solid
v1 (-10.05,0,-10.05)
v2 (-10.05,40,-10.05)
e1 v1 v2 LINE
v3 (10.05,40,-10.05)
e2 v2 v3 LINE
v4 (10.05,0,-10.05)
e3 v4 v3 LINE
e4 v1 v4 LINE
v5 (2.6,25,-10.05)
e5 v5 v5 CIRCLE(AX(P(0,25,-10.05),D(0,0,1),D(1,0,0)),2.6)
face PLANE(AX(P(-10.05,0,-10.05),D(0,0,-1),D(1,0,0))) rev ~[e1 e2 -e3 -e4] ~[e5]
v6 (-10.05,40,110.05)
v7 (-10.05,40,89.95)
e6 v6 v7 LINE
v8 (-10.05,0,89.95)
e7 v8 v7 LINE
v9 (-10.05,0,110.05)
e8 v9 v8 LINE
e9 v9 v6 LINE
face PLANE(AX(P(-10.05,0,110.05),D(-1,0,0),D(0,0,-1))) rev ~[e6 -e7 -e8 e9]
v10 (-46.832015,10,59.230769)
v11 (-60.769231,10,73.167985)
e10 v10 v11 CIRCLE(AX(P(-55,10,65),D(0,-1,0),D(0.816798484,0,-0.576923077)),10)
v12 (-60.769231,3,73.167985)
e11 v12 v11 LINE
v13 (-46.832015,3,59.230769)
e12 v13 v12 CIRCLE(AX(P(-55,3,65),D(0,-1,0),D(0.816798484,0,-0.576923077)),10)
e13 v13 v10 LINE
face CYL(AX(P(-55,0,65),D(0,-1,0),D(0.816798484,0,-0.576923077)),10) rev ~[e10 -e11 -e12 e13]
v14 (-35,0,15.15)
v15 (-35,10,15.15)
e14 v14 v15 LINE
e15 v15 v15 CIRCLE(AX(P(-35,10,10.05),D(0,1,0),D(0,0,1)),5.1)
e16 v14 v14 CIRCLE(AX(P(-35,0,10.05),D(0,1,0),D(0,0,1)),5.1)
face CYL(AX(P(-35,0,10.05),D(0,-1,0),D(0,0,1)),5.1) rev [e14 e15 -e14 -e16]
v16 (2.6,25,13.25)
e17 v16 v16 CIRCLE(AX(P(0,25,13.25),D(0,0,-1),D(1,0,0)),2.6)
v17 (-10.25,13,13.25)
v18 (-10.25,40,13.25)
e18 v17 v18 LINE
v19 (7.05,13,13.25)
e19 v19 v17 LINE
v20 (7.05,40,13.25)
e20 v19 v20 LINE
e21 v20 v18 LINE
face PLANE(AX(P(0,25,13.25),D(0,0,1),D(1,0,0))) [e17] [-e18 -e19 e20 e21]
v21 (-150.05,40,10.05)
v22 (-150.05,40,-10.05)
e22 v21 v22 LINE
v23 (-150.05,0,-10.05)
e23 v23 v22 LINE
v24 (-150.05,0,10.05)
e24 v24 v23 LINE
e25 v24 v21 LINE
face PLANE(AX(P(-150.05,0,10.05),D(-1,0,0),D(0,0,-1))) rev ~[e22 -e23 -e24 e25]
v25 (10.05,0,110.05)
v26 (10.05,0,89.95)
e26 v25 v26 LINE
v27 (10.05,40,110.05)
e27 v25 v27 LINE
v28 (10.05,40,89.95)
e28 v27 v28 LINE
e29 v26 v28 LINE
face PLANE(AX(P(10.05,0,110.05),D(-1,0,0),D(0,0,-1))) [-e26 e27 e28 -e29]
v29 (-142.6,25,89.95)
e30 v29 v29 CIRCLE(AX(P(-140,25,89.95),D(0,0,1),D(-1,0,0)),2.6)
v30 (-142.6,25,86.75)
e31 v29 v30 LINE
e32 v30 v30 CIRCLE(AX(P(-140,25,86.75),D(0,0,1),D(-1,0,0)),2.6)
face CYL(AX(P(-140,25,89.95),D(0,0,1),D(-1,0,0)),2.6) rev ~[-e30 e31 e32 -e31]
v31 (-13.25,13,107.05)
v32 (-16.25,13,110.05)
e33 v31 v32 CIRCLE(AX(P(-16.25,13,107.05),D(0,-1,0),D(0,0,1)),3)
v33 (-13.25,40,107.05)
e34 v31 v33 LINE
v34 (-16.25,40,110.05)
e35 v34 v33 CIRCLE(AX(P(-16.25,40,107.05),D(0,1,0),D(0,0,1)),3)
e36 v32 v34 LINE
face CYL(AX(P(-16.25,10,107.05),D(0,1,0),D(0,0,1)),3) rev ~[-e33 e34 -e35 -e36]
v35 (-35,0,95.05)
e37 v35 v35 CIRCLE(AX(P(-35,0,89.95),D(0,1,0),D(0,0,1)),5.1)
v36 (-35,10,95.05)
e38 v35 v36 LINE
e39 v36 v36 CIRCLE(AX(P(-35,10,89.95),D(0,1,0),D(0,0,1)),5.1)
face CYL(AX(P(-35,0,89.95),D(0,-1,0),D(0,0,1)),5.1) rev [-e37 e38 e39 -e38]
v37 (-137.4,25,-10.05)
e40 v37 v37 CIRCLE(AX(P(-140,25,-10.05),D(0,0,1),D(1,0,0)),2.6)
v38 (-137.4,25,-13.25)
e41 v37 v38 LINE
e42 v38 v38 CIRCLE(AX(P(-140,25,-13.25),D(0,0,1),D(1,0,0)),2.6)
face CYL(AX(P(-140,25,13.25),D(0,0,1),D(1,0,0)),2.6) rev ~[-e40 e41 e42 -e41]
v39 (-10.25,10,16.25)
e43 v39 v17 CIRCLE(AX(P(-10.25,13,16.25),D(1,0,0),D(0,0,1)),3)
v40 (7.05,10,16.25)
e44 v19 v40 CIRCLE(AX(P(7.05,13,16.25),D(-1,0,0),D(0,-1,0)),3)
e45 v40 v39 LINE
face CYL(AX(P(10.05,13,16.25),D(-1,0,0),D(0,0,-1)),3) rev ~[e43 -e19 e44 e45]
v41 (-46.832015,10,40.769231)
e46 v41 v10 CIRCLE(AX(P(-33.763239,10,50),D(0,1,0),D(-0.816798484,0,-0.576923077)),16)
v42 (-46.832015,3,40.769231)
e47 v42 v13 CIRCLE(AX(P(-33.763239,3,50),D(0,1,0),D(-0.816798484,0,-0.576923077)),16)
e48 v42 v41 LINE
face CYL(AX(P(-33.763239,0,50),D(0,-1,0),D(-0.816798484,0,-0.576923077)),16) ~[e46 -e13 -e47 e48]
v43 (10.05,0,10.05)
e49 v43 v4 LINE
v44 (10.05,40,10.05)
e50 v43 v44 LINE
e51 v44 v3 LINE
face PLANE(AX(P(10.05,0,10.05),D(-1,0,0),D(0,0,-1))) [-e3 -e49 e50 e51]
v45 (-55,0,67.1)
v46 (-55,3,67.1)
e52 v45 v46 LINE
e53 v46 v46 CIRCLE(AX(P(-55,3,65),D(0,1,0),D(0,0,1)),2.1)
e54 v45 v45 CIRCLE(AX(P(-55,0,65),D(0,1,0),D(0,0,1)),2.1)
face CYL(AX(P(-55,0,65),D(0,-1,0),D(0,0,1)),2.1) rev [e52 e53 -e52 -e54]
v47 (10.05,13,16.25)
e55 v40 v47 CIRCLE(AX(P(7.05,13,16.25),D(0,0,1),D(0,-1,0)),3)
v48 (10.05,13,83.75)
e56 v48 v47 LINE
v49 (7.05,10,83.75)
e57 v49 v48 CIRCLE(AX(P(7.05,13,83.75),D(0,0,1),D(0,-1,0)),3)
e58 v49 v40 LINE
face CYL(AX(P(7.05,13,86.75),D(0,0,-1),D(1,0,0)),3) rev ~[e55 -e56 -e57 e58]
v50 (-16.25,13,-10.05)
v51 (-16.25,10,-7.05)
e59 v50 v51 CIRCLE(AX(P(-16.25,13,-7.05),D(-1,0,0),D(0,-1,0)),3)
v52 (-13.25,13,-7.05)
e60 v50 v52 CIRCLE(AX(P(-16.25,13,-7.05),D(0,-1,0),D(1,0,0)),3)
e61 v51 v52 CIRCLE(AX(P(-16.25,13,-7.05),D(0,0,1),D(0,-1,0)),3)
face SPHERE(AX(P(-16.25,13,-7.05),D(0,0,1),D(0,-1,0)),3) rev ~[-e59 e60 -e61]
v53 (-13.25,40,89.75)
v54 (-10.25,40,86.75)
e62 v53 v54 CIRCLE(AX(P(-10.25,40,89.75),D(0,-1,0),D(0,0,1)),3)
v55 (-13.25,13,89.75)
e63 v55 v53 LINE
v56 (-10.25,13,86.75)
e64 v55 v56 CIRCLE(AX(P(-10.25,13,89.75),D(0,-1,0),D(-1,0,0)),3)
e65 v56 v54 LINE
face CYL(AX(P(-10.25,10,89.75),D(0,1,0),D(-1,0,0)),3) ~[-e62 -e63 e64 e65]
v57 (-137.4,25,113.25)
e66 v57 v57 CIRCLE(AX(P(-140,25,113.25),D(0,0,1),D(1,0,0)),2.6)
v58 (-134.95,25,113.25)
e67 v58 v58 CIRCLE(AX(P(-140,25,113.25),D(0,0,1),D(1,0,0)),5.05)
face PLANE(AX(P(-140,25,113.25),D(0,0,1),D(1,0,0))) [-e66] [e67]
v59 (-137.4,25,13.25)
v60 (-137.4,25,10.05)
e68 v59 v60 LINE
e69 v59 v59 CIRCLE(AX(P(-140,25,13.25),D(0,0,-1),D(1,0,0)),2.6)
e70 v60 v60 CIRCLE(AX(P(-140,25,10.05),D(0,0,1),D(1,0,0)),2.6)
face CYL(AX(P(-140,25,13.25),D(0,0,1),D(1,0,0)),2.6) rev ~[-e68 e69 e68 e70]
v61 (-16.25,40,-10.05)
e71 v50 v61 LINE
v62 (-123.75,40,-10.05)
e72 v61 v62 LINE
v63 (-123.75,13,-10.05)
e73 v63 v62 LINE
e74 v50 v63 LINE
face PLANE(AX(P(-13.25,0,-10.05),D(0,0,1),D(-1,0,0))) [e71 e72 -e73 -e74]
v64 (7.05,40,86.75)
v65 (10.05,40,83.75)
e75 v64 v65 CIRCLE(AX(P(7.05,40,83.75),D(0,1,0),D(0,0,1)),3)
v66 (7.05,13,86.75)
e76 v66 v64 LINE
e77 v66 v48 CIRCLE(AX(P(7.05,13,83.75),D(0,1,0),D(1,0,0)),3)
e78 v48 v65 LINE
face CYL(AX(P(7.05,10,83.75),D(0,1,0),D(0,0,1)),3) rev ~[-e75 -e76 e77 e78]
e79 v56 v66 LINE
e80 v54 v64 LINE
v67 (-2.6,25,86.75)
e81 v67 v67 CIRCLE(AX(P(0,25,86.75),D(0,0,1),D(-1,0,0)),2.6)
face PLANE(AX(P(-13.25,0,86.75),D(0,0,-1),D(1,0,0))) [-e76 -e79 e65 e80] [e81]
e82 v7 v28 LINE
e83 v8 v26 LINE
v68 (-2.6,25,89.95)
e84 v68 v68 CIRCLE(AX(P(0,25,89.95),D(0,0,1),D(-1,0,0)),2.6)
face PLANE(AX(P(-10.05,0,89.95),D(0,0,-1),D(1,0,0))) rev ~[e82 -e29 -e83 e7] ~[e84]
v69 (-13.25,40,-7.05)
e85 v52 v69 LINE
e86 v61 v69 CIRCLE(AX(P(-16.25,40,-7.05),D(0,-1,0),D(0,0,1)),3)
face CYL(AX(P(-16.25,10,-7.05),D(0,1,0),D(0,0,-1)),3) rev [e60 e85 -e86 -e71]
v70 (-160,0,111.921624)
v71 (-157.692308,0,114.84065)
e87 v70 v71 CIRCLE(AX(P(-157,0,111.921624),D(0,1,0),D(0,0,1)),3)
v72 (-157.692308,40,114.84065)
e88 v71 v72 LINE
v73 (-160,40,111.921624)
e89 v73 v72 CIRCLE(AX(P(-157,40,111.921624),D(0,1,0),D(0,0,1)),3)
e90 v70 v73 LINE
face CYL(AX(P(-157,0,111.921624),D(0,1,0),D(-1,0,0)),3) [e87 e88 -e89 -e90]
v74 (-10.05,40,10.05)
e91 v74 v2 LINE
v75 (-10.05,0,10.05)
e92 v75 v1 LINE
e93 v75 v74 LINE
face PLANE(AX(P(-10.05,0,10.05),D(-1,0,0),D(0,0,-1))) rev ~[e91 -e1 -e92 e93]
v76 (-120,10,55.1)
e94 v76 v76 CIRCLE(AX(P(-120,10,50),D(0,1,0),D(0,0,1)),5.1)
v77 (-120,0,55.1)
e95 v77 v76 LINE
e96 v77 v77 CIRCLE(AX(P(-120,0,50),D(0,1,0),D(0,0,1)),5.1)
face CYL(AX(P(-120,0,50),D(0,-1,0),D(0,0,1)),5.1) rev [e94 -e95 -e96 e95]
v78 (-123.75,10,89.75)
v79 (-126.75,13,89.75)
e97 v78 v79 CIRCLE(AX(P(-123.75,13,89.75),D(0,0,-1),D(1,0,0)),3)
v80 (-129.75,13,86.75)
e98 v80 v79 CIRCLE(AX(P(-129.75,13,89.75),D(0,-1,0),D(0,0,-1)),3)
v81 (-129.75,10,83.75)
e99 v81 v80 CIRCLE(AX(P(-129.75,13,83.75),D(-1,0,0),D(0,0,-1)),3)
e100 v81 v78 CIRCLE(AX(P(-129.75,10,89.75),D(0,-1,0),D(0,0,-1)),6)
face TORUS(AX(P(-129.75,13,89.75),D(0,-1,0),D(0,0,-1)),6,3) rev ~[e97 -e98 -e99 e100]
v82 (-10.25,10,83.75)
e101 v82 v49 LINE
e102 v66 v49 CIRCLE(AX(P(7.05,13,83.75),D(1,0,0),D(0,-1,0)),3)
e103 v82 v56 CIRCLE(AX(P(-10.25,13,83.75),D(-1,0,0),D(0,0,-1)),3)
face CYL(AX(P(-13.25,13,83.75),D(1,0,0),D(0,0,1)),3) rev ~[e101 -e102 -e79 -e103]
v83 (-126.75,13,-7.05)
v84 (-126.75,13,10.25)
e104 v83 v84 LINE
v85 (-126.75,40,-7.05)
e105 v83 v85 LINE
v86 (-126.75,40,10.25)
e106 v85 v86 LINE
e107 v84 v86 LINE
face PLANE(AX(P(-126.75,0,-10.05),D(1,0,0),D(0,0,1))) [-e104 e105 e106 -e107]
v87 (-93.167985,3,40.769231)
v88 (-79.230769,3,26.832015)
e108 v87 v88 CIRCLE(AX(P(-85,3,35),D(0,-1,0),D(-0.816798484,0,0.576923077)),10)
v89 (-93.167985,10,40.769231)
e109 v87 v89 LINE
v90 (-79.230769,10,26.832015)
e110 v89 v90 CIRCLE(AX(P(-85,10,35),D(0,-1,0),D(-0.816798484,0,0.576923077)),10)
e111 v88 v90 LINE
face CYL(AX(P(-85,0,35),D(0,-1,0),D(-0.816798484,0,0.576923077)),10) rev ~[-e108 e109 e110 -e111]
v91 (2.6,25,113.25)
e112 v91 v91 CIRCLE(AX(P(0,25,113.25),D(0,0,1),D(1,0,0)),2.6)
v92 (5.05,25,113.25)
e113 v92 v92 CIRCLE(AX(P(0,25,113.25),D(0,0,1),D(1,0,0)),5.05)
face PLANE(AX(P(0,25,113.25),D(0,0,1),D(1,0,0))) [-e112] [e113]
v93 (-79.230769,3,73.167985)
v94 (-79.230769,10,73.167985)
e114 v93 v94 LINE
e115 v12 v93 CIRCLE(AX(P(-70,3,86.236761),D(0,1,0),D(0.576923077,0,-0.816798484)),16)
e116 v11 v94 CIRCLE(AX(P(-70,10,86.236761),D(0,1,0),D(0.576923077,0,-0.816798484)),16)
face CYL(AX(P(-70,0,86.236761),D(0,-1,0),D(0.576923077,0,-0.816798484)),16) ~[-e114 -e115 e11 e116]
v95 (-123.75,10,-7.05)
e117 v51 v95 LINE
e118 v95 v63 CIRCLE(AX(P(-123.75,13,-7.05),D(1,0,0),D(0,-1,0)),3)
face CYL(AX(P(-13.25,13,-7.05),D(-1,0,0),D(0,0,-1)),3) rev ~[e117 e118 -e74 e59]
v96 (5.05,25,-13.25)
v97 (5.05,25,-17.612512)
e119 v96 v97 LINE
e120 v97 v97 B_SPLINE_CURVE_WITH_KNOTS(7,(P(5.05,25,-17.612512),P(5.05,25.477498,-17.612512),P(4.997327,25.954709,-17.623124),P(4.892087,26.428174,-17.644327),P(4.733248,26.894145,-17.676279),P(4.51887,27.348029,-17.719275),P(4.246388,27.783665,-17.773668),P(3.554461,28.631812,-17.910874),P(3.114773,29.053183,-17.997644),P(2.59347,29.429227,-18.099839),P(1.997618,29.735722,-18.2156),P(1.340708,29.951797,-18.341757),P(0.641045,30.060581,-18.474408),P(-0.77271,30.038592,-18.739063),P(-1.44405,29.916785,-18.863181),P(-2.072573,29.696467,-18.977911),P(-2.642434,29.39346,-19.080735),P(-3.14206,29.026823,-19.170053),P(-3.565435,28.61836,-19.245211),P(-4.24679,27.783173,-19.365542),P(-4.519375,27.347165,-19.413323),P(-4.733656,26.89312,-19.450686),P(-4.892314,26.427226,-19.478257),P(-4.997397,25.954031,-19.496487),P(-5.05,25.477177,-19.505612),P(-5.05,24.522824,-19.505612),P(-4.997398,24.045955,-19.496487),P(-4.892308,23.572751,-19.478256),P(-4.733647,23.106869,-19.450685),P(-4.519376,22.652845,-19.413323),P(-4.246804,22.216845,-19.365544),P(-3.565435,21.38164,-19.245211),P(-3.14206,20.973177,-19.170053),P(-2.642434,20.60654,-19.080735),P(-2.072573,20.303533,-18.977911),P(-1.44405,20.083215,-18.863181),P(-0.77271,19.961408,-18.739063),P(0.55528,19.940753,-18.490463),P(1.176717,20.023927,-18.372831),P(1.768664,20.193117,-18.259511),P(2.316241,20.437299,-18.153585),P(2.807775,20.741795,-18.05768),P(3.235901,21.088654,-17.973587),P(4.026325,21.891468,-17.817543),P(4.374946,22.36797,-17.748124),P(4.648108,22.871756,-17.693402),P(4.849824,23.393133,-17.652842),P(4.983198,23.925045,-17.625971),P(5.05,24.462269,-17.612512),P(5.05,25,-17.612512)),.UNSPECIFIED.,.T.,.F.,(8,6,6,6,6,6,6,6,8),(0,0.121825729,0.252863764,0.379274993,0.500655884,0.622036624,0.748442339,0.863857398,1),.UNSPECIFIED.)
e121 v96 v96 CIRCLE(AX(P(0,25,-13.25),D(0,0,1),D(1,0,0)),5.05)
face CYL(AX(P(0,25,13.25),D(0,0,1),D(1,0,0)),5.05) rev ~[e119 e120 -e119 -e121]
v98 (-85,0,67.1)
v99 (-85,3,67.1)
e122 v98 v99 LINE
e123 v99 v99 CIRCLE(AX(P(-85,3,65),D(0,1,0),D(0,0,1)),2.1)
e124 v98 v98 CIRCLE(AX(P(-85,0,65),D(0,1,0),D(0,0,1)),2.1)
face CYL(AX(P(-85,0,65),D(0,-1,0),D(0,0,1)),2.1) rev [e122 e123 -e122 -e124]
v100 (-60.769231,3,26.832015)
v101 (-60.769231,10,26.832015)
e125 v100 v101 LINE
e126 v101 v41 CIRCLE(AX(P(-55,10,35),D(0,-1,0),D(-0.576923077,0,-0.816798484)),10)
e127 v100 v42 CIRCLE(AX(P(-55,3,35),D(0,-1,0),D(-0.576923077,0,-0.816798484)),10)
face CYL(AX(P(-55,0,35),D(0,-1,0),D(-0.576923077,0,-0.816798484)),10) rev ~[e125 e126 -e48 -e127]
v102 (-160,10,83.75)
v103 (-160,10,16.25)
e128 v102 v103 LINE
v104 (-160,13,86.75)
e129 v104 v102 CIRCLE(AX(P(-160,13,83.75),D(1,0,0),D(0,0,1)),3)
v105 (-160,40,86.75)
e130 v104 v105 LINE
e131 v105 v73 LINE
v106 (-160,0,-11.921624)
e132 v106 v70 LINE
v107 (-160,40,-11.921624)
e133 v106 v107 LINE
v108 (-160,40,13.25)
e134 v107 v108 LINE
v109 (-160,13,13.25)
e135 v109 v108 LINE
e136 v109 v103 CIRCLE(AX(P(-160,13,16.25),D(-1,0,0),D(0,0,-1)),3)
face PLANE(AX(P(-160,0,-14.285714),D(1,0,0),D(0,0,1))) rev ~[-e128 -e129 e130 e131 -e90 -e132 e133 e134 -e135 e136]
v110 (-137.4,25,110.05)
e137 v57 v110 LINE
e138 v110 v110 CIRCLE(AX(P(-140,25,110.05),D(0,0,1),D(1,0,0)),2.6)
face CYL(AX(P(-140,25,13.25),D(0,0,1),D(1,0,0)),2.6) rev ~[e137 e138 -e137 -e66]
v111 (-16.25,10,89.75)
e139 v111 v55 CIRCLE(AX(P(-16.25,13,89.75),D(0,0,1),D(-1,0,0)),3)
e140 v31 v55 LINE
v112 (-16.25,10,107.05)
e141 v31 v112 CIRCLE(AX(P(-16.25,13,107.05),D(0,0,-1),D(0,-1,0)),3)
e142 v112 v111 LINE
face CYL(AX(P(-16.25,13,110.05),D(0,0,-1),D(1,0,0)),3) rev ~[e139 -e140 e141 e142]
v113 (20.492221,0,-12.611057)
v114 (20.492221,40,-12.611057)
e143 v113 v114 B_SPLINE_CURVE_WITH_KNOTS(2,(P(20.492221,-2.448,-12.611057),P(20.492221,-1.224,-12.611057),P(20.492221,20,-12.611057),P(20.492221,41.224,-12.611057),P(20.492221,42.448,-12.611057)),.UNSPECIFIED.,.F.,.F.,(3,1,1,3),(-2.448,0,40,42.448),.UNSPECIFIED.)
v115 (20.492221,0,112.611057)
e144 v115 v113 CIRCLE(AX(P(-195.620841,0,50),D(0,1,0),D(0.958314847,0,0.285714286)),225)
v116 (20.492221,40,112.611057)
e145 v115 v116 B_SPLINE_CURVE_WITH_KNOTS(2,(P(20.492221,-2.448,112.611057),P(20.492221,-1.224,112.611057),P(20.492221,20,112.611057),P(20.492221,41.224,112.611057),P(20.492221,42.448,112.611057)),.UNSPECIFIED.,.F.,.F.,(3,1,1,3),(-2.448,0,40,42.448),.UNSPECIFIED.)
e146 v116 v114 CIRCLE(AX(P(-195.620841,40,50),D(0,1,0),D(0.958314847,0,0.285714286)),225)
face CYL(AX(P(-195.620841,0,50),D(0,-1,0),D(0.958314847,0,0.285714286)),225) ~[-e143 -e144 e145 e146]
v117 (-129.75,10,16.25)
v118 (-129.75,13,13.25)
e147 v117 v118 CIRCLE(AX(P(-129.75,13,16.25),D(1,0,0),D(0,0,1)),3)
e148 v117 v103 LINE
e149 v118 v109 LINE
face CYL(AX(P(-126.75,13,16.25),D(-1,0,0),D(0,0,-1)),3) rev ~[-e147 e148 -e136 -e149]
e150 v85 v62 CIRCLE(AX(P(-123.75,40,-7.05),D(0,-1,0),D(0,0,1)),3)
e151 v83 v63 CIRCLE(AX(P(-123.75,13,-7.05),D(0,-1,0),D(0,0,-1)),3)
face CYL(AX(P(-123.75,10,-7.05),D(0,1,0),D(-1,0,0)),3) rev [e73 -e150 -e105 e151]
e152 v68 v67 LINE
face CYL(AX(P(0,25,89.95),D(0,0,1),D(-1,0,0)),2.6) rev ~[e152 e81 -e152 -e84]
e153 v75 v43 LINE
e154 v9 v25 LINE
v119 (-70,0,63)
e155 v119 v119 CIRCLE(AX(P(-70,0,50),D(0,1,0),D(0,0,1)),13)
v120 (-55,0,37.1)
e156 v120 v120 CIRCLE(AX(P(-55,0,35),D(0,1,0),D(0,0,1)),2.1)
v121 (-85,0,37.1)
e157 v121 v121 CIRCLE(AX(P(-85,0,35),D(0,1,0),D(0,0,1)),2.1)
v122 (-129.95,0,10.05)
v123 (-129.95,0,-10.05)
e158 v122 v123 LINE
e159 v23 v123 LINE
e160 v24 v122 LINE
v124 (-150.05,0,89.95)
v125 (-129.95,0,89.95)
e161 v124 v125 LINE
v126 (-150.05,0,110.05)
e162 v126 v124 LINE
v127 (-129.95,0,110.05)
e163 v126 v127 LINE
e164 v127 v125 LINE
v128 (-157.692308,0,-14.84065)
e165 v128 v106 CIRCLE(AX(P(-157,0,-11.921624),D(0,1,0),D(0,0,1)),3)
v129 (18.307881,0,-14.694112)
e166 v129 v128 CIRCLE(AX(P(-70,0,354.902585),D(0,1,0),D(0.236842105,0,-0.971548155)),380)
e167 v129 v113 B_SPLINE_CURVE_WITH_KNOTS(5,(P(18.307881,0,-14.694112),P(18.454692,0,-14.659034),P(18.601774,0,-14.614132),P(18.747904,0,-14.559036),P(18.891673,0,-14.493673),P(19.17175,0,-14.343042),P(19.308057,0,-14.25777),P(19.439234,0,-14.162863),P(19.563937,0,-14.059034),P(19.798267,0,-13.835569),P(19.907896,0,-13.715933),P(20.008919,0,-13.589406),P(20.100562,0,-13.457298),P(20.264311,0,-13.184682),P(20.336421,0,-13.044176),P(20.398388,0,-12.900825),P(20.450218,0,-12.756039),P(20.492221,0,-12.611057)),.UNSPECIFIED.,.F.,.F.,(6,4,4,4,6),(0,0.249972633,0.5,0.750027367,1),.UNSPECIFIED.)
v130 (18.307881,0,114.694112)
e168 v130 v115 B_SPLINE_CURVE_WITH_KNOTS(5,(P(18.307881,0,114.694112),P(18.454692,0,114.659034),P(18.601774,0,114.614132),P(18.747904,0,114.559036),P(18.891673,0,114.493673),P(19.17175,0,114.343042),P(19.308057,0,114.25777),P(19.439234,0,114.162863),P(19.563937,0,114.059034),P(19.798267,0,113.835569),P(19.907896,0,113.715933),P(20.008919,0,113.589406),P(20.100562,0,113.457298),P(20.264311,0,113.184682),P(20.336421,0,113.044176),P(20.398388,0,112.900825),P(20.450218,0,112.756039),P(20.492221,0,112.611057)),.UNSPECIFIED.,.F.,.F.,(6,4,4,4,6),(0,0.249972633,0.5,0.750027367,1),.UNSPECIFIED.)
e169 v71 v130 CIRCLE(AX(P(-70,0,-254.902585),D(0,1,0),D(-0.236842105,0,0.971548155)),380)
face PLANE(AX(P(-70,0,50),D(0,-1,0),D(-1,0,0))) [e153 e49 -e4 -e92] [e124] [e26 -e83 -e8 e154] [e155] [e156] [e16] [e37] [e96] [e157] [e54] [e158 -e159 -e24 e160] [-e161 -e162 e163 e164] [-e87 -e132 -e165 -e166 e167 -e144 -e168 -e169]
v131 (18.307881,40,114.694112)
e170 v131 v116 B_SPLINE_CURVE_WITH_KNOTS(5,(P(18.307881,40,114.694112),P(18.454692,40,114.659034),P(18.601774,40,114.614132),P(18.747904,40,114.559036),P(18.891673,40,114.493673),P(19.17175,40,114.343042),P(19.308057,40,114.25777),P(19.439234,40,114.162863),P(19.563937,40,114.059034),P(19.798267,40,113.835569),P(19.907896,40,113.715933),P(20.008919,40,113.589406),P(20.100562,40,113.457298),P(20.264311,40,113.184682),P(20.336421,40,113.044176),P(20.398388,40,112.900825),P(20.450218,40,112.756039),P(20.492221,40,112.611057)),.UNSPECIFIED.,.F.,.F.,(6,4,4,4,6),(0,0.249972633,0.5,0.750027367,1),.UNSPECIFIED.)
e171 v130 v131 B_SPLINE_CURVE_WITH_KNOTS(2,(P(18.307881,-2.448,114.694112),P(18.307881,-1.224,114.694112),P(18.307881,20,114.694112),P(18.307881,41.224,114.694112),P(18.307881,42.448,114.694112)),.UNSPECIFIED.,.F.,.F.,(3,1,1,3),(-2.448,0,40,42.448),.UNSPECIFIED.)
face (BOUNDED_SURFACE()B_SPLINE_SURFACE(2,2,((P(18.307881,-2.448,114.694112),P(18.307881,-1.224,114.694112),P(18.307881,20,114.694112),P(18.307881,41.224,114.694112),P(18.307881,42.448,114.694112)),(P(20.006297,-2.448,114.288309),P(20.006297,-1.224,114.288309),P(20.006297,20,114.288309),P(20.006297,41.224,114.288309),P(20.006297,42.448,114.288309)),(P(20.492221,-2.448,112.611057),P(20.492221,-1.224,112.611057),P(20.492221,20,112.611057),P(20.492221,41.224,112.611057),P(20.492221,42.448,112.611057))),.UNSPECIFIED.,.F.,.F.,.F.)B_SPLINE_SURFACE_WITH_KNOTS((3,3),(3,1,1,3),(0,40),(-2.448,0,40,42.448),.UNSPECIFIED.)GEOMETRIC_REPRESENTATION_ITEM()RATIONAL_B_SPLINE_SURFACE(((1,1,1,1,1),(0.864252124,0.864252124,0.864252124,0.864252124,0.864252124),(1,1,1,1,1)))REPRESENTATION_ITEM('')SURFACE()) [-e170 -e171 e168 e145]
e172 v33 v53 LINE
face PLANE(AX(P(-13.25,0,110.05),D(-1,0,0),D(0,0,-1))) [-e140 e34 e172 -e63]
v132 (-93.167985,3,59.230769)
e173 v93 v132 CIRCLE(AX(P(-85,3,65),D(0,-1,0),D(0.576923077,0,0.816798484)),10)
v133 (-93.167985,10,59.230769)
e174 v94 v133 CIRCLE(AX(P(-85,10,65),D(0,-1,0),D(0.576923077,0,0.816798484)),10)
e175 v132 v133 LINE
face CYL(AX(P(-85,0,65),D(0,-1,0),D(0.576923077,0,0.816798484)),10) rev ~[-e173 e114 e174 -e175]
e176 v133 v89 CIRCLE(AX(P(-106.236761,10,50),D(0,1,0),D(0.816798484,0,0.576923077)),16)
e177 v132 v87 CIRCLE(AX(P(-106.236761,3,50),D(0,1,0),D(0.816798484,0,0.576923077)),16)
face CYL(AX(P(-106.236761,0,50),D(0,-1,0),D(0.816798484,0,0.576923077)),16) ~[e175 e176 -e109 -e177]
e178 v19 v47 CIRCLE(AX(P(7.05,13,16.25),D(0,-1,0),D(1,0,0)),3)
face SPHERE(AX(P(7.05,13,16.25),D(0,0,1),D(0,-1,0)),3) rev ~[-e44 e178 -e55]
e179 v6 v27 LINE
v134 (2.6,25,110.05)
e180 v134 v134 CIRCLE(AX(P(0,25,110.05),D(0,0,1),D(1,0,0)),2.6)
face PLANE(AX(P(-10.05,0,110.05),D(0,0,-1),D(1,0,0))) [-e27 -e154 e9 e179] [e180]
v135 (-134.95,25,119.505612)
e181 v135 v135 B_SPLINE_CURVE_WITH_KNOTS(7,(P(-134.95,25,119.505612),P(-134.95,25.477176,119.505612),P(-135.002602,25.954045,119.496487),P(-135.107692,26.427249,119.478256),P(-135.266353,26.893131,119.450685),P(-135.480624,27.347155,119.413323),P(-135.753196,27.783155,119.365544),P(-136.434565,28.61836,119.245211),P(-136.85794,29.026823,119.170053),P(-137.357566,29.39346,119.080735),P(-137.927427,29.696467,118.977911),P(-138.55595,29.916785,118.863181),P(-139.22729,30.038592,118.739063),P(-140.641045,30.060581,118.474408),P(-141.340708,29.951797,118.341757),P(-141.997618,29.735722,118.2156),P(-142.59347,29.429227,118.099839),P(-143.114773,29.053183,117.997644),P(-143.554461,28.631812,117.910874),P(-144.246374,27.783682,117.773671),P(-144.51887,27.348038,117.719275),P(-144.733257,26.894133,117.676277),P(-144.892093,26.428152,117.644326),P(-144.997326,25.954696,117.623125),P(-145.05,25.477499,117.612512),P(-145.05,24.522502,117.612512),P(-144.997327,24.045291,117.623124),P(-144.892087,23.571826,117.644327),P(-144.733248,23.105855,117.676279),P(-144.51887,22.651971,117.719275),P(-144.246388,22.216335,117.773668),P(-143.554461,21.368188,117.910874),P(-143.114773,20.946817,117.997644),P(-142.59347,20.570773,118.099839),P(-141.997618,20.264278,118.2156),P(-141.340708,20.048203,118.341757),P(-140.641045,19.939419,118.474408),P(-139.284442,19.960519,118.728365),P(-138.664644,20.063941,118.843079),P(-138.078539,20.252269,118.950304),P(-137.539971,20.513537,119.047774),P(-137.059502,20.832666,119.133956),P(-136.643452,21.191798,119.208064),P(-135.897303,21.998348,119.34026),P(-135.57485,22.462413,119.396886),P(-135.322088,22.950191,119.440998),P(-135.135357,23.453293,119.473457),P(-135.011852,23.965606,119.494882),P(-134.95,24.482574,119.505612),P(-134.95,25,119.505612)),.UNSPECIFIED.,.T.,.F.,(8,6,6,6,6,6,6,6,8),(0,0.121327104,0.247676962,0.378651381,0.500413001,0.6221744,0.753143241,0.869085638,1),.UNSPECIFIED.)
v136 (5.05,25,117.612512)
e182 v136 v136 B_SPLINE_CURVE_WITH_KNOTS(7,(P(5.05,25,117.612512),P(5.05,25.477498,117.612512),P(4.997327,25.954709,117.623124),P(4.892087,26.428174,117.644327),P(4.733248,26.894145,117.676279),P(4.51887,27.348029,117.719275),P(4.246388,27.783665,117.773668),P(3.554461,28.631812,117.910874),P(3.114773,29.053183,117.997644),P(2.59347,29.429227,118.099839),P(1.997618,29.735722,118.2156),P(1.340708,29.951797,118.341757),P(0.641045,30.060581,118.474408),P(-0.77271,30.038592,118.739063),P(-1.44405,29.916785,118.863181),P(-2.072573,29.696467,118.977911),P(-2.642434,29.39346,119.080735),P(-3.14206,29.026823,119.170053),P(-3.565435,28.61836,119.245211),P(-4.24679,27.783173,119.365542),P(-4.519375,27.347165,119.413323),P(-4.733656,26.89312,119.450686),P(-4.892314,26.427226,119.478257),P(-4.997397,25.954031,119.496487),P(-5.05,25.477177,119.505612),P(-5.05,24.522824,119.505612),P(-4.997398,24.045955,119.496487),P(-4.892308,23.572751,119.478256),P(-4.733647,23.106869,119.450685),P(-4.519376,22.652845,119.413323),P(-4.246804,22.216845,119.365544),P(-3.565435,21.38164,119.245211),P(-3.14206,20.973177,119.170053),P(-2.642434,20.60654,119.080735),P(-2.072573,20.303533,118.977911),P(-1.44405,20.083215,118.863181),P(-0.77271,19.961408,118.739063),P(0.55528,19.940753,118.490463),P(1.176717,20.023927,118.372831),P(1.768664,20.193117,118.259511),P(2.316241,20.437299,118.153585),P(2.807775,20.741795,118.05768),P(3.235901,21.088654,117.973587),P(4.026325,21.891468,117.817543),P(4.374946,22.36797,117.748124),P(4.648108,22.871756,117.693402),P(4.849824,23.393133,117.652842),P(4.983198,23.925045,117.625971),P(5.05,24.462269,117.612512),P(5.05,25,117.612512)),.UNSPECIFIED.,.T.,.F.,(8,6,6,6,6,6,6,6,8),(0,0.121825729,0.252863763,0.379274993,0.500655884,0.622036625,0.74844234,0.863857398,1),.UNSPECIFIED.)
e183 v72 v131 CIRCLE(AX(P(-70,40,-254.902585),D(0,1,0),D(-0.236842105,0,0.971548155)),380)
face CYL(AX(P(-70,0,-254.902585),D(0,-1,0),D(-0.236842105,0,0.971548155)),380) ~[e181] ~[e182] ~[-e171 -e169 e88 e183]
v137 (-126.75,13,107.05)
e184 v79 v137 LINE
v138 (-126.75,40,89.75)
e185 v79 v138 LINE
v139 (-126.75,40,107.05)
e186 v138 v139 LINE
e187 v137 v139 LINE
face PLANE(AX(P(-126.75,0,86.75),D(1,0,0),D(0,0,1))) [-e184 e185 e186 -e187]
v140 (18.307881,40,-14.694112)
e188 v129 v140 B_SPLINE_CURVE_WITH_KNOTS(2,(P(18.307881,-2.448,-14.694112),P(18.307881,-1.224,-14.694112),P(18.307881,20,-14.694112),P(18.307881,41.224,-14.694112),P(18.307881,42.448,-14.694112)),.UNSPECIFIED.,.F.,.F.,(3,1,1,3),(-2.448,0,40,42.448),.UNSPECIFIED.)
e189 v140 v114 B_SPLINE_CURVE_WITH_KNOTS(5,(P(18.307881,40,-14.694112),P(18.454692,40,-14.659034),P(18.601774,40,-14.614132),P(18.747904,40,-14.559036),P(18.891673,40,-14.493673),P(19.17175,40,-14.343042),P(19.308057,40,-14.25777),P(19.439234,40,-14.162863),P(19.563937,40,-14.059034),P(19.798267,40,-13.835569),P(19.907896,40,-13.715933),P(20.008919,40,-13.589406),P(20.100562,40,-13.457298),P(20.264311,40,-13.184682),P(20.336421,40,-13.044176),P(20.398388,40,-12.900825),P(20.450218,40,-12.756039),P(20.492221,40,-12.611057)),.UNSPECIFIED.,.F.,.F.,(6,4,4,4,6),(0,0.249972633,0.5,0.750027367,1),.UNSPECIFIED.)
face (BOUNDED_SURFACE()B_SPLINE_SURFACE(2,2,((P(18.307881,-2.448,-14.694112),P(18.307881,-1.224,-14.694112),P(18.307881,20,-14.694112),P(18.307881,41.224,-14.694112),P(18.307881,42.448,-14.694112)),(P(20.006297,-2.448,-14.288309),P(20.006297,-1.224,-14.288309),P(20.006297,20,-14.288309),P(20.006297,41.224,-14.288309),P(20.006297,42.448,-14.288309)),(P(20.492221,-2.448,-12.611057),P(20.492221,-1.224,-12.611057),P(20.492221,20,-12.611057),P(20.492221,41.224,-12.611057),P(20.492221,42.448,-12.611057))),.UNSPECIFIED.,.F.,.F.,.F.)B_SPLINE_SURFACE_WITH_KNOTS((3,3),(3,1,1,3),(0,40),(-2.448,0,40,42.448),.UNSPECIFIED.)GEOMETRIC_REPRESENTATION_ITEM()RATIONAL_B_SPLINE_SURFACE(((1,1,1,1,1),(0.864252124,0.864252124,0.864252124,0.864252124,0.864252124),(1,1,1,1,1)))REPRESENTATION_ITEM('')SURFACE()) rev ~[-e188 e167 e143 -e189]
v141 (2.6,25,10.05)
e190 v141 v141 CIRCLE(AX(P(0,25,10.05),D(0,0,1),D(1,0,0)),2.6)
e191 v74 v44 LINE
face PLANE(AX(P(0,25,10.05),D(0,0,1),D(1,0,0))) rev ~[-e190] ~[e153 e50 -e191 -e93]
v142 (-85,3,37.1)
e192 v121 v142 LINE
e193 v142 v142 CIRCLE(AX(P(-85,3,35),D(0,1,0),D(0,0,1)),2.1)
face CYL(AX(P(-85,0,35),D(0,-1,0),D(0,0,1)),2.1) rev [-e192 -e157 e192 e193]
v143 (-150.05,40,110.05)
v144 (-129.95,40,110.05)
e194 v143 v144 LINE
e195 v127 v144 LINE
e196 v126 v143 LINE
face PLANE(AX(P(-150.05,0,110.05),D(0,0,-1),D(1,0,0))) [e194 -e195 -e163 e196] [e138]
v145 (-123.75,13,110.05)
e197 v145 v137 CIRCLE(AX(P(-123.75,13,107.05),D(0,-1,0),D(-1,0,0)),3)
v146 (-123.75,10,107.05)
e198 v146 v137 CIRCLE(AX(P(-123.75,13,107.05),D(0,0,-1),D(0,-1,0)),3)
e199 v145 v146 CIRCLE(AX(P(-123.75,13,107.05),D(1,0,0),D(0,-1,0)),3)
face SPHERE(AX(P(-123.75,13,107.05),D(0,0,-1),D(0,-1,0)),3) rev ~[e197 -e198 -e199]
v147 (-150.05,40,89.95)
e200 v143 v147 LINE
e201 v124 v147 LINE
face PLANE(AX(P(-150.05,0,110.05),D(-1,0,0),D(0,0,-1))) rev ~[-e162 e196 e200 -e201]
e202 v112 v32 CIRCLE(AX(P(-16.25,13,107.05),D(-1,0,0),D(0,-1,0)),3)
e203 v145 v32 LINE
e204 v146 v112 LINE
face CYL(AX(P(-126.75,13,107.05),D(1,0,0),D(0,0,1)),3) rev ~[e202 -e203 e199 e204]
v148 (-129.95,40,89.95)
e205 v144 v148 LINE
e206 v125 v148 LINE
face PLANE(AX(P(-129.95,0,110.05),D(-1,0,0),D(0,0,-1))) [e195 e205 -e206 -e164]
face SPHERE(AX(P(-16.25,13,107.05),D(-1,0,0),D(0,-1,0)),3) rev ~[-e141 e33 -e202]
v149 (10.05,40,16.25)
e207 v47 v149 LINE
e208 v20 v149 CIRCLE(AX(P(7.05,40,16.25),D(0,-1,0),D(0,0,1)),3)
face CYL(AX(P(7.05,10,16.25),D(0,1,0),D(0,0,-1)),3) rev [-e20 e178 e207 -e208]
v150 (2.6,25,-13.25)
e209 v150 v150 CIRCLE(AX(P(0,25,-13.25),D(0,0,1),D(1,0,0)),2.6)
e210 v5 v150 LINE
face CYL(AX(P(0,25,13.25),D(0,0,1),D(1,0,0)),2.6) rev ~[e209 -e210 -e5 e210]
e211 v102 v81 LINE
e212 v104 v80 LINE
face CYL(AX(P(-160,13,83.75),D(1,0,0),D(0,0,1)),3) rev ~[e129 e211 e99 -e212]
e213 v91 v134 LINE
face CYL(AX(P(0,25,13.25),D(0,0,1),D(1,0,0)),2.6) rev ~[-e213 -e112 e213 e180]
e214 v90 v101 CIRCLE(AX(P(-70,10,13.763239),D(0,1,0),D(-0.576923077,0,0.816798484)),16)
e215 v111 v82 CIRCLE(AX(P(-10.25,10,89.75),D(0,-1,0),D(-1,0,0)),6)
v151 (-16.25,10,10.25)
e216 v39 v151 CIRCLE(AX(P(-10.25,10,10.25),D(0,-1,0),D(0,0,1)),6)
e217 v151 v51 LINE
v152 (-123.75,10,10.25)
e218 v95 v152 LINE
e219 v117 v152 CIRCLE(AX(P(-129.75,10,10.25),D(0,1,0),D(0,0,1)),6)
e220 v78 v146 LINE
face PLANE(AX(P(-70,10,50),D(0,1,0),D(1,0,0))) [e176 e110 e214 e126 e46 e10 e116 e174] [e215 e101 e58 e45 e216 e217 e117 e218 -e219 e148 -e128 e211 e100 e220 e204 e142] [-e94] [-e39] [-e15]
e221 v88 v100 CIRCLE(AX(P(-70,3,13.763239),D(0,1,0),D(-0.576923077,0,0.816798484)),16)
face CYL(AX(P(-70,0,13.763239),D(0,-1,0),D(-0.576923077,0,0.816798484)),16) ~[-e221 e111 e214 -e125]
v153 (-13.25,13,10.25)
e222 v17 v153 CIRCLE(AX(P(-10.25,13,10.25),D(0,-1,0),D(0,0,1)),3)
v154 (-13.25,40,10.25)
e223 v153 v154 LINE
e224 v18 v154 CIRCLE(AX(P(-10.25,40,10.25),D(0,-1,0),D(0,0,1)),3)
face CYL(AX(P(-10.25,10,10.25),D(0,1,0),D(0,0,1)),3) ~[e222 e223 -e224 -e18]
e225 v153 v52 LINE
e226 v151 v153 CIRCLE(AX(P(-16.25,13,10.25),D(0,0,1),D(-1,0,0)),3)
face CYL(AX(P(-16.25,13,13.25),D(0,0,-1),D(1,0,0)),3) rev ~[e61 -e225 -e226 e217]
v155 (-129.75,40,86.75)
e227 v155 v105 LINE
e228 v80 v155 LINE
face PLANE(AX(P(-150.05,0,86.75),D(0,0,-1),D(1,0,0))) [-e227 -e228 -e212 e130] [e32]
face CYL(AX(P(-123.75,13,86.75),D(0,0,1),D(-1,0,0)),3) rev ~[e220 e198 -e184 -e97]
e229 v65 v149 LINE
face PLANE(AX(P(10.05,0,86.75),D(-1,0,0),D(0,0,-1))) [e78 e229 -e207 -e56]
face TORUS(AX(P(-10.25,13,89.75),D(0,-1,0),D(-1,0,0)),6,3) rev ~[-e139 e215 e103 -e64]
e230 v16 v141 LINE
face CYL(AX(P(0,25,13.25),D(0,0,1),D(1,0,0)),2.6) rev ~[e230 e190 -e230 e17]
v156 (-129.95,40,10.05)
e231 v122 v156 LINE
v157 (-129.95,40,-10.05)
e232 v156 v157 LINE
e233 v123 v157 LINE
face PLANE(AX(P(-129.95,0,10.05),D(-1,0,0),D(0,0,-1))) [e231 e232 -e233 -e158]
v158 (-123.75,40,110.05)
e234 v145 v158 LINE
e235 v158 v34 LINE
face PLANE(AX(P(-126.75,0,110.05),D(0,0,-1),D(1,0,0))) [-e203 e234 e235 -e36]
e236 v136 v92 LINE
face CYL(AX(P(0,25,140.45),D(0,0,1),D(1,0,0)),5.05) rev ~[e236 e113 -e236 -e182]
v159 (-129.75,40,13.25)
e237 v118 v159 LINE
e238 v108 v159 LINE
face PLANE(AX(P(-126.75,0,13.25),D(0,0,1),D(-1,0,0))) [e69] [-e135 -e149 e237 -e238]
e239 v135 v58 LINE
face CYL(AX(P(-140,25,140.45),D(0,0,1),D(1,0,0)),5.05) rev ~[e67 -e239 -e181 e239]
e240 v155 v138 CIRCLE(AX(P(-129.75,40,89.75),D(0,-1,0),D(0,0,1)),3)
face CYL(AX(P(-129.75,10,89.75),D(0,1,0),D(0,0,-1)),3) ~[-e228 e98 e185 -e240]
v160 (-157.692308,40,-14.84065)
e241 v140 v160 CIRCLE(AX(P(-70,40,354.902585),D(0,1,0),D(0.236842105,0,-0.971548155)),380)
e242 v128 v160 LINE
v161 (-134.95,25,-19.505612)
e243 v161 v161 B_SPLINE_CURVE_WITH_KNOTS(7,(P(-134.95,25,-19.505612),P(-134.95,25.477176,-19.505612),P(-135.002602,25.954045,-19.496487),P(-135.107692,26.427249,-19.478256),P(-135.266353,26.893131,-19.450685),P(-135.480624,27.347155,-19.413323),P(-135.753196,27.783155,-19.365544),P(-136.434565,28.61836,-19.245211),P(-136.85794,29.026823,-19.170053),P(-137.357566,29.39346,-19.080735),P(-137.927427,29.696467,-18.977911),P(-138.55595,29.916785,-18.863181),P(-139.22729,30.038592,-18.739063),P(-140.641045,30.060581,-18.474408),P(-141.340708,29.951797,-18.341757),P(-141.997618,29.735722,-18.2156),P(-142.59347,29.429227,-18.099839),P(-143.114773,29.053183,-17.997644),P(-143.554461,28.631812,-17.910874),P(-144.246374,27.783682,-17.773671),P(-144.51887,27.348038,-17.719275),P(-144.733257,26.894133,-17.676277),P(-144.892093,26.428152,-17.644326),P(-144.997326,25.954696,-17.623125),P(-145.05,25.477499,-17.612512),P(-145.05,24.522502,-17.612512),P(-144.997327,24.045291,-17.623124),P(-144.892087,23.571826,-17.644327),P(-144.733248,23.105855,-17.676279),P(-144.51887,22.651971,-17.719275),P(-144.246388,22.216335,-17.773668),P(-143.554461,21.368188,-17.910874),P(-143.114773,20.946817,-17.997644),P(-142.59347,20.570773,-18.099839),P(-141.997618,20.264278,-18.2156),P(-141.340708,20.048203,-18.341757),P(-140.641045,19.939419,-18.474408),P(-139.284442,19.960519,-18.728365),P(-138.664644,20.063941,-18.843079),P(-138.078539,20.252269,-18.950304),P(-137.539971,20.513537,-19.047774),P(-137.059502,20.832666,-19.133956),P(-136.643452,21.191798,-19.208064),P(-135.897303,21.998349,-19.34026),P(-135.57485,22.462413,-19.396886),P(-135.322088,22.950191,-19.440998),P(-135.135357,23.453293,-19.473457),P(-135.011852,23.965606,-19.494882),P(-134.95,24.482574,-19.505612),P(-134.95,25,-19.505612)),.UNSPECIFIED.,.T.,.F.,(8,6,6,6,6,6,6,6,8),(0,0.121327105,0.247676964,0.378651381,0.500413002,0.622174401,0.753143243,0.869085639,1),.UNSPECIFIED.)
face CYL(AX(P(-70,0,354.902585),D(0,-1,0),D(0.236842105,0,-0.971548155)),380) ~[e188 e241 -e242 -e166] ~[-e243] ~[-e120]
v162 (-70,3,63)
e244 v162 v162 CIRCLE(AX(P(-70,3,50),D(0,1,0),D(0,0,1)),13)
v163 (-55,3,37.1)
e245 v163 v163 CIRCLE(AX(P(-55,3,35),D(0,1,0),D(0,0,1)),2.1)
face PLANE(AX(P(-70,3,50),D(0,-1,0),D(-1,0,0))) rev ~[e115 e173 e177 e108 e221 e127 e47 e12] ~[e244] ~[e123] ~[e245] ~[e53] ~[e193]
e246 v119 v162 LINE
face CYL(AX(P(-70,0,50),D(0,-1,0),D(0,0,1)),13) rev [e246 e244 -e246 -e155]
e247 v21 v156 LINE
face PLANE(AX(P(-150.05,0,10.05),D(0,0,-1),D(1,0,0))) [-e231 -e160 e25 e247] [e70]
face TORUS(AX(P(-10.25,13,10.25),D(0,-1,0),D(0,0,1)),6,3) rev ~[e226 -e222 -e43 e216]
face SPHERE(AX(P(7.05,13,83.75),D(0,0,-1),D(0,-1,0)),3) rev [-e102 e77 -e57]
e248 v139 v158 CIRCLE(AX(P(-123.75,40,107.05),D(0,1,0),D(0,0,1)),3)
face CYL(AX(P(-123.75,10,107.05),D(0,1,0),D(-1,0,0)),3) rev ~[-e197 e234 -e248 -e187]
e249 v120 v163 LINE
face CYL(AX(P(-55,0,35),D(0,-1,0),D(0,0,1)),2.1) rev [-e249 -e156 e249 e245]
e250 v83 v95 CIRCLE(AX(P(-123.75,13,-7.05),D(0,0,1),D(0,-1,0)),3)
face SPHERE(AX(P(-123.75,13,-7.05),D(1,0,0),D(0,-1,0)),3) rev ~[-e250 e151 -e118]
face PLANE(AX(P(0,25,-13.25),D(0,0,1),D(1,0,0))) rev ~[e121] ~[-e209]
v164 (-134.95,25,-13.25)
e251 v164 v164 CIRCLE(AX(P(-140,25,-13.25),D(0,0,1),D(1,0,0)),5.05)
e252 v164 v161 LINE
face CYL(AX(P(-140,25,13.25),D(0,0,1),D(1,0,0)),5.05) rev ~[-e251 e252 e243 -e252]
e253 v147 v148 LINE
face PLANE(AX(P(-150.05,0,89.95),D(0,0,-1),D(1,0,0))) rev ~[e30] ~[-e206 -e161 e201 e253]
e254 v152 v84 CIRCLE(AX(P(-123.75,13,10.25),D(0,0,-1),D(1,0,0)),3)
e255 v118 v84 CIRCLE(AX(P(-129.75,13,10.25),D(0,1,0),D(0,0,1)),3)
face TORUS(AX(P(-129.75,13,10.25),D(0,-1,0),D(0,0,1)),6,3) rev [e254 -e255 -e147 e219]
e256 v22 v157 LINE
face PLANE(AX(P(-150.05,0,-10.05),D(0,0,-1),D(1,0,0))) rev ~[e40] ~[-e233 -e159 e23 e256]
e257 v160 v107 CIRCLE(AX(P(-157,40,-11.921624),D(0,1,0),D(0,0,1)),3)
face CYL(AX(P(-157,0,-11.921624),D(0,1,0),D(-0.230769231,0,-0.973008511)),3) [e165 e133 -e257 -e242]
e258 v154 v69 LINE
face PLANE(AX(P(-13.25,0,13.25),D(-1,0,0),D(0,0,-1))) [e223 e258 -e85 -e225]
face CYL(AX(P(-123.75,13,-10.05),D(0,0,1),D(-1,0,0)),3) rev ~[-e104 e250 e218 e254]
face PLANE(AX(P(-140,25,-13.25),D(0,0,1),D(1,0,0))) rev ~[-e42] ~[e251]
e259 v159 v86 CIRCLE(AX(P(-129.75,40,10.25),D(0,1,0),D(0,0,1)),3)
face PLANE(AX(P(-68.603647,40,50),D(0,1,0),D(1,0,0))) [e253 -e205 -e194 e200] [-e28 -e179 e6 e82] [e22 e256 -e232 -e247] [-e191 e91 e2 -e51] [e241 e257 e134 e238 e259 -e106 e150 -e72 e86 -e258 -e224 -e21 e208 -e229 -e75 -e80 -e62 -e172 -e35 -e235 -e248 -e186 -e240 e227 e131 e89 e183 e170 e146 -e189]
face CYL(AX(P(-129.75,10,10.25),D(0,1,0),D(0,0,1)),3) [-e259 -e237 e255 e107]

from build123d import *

# Parameters (mm, degrees)
SKETCH1_W           = 20.1
SKETCH1_H           = 20.1
BOSS_EXTRUDE1_DEPTH = 40
SKETCH1_3_R         = 5.1
BOSS_EXTRUDE2_DEPTH = 10
SKETCH1_4_R         = 13
SKETCH1_4_R_2       = 2.1
BOSS_EXTRUDE3_DEPTH = 3
SKETCH2_R           = 5.05
CUT_EXTRUDE1_DEPTH  = 62
SKETCH2_3_R         = 5.05
SKETCH2_3_R_2       = 2.6
BOSS_EXTRUDE5_DEPTH = 26.5
SKETCH2_4_R         = 5.05
SKETCH2_4_R_2       = 2.6
CUT_EXTRUDE2_DEPTH  = 23.3
SKETCH2_5_R         = 5.05
SKETCH2_5_R_2       = 2.6
BOSS_EXTRUDE6_DEPTH = 3.2
CUT_EXTRUDE3_START  = 127.2
SKETCH2_6_R         = 5.05
CUT_EXTRUDE3_DEPTH  = 127.2
BOSS_EXTRUDE7_START = 100
SKETCH2_7_R         = 5.05
SKETCH2_7_R_2       = 2.6
BOSS_EXTRUDE7_DEPTH = 100
CUT_EXTRUDE4_START  = 96.8
SKETCH2_8_R         = 5.05
SKETCH2_8_R_2       = 2.6
CUT_EXTRUDE4_DEPTH  = 96.8
BOSS_EXTRUDE8_START = 76.7
SKETCH2_9_R         = 5.05
SKETCH2_9_R_2       = 2.6
BOSS_EXTRUDE8_DEPTH = 76.7
CUT_EXTRUDE5_START  = 73.5
SKETCH2_10_R        = 5.05
SKETCH2_10_R_2      = 2.6
CUT_EXTRUDE5_DEPTH  = 73.5
SKETCH3_W           = 73.5
SKETCH3_H           = 30
CUT_EXTRUDE6_DEPTH  = 10
FILLET1_R           = 3


with BuildPart() as part:
    # Sketch1 → Boss-Extrude1 (new body)
    with BuildSketch(Plane(origin=(0, 0, 0), x_dir=(1, 0, 0), z_dir=(0, 1, 0))):
        with BuildLine():
            Line((-160, 14.285714286), (-160, -114.285714286))
            ThreePointArc((-160, -114.285714286), (-70, -125.097415446), (20, -114.285714286))
            ThreePointArc((20, -114.285714286), (29.379159313, -50), (20, 14.285714286))
            ThreePointArc((20, 14.285714286), (-70, 25.097415446), (-160, 14.285714286))
        make_face()
        with Locations((-140, 0)):
            Rectangle(SKETCH1_W, SKETCH1_H, mode=Mode.SUBTRACT)
        Rectangle(SKETCH1_W, SKETCH1_H, mode=Mode.SUBTRACT)
        with Locations((-140, -100)):
            Rectangle(SKETCH1_W, SKETCH1_H, mode=Mode.SUBTRACT)
        with Locations((0, -100)):
            Rectangle(SKETCH1_W, SKETCH1_H, mode=Mode.SUBTRACT)
        Polygon((-126.75, 10.05), (-126.75, -13.25), (-150.05, -13.25), (-150.05, -86.75), (-126.75, -86.75), (-126.75, -110.05), (-13.25, -110.05), (-13.25, -86.75), (10.05, -86.75), (10.05, -13.25), (-13.25, -13.25), (-13.25, 10.05), align=None, mode=Mode.SUBTRACT)
    extrude(amount=BOSS_EXTRUDE1_DEPTH)

    # Sketch1<3> → Boss-Extrude2 (add)
    with BuildSketch(Plane(origin=(0, 0, 0), x_dir=(1, 0, 0), z_dir=(0, 1, 0))):
        Polygon((-13.25, 10.05), (-126.75, 10.05), (-126.75, -13.25), (-150.05, -13.25), (-150.05, -86.75), (-126.75, -86.75), (-126.75, -110.05), (-13.25, -110.05), (-13.25, -86.75), (10.05, -86.75), (10.05, -13.25), (-13.25, -13.25), align=None)
        with Locations(Location((-120, -50, 0), (0, 0, 270))):
            Circle(SKETCH1_3_R, mode=Mode.SUBTRACT)
        with BuildLine():
            ThreePointArc((-93.167984839, -59.230769231), (-90.236760582, -50), (-93.167984839, -40.769230769))
            ThreePointArc((-93.167984839, -40.769230769), (-92.071067812, -27.928932188), (-79.230769231, -26.832015161))
            ThreePointArc((-79.230769231, -26.832015161), (-70, -29.763239418), (-60.769230769, -26.832015161))
            ThreePointArc((-60.769230769, -26.832015161), (-47.928932188, -27.928932188), (-46.832015161, -40.769230769))
            ThreePointArc((-46.832015161, -40.769230769), (-49.763239418, -50), (-46.832015161, -59.230769231))
            ThreePointArc((-46.832015161, -59.230769231), (-47.928932188, -72.071067812), (-60.769230769, -73.167984839))
            ThreePointArc((-60.769230769, -73.167984839), (-70, -70.236760582), (-79.230769231, -73.167984839))
            ThreePointArc((-79.230769231, -73.167984839), (-92.071067812, -72.071067812), (-93.167984839, -59.230769231))
        make_face(mode=Mode.SUBTRACT)
        with Locations(Location((-35, -89.95, 0), (0, 0, 270))):
            Circle(SKETCH1_3_R, mode=Mode.SUBTRACT)
        with Locations(Location((-35, -10.05, 0), (0, 0, 270))):
            Circle(SKETCH1_3_R, mode=Mode.SUBTRACT)
    extrude(amount=BOSS_EXTRUDE2_DEPTH)

    # Sketch1<4> → Boss-Extrude3 (add)
    with BuildSketch(Plane(origin=(0, 0, 0), x_dir=(1, 0, 0), z_dir=(0, 1, 0))):
        with BuildLine():
            ThreePointArc((-60.769230769, -73.167984839), (-70, -70.236760582), (-79.230769231, -73.167984839))
            ThreePointArc((-79.230769231, -73.167984839), (-92.071067812, -72.071067812), (-93.167984839, -59.230769231))
            ThreePointArc((-93.167984839, -59.230769231), (-90.236760582, -50), (-93.167984839, -40.769230769))
            ThreePointArc((-93.167984839, -40.769230769), (-92.071067812, -27.928932188), (-79.230769231, -26.832015161))
            ThreePointArc((-79.230769231, -26.832015161), (-70, -29.763239418), (-60.769230769, -26.832015161))
            ThreePointArc((-60.769230769, -26.832015161), (-47.928932188, -27.928932188), (-46.832015161, -40.769230769))
            ThreePointArc((-46.832015161, -40.769230769), (-49.763239418, -50), (-46.832015161, -59.230769231))
            ThreePointArc((-46.832015161, -59.230769231), (-47.928932188, -72.071067812), (-60.769230769, -73.167984839))
        make_face()
        with Locations(Location((-70, -50, 0), (0, 0, 270))):
            Circle(SKETCH1_4_R, mode=Mode.SUBTRACT)
        with Locations(Location((-85, -65, 0), (0, 0, 270))):
            Circle(SKETCH1_4_R_2, mode=Mode.SUBTRACT)
        with Locations(Location((-55, -65, 0), (0, 0, 270))):
            Circle(SKETCH1_4_R_2, mode=Mode.SUBTRACT)
        with Locations(Location((-55, -35, 0), (0, 0, 270))):
            Circle(SKETCH1_4_R_2, mode=Mode.SUBTRACT)
        with Locations(Location((-85, -35, 0), (0, 0, 270))):
            Circle(SKETCH1_4_R_2, mode=Mode.SUBTRACT)
    extrude(amount=BOSS_EXTRUDE3_DEPTH)

    # Sketch2 → Cut-Extrude1 (cut)
    with BuildSketch(Plane.XY.offset(13.25)):
        with Locations((0, 25)):
            Circle(SKETCH2_R)
        with Locations((-140, 25)):
            Circle(SKETCH2_R)
    extrude(amount=-CUT_EXTRUDE1_DEPTH, mode=Mode.SUBTRACT)

    # Sketch2<3> → Boss-Extrude5 (add)
    # profile 1 of 2: a face of its own
    with BuildSketch(Plane.XY.offset(13.25)):
        with Locations((0, 25)):
            Circle(SKETCH2_3_R)
        with Locations((0, 25)):
            Circle(SKETCH2_3_R_2, mode=Mode.SUBTRACT)
    # profile 2 of 2: a face of its own
    with BuildSketch(Plane.XY.offset(13.25)):
        with Locations((-140, 25)):
            Circle(SKETCH2_3_R)
        with Locations((-140, 25)):
            Circle(SKETCH2_3_R_2, mode=Mode.SUBTRACT)
    extrude(amount=-BOSS_EXTRUDE5_DEPTH)

    # Sketch2<4> → Cut-Extrude2 (cut)
    # profile 1 of 2: a face of its own
    with BuildSketch(Plane.XY.offset(13.25)):
        with Locations((0, 25)):
            Circle(SKETCH2_4_R)
        with Locations((0, 25)):
            Circle(SKETCH2_4_R_2, mode=Mode.SUBTRACT)
    # profile 2 of 2: a face of its own
    with BuildSketch(Plane.XY.offset(13.25)):
        with Locations((-140, 25)):
            Circle(SKETCH2_4_R)
        with Locations((-140, 25)):
            Circle(SKETCH2_4_R_2, mode=Mode.SUBTRACT)
    extrude(amount=-CUT_EXTRUDE2_DEPTH, mode=Mode.SUBTRACT)

    # Sketch2<5> → Boss-Extrude6 (add)
    # profile 1 of 2: a face of its own
    with BuildSketch(Plane.XY.offset(13.25)):
        with Locations((0, 25)):
            Circle(SKETCH2_5_R)
        with Locations((0, 25)):
            Circle(SKETCH2_5_R_2, mode=Mode.SUBTRACT)
    # profile 2 of 2: a face of its own
    with BuildSketch(Plane.XY.offset(13.25)):
        with Locations((-140, 25)):
            Circle(SKETCH2_5_R)
        with Locations((-140, 25)):
            Circle(SKETCH2_5_R_2, mode=Mode.SUBTRACT)
    extrude(amount=-BOSS_EXTRUDE6_DEPTH)

    # Sketch2<6> → Cut-Extrude3 (cut)
    with BuildSketch(Plane.XY.offset(13.25).offset(CUT_EXTRUDE3_START)):
        with Locations((0, 25)):
            Circle(SKETCH2_6_R)
        with Locations((-140, 25)):
            Circle(SKETCH2_6_R)
    extrude(amount=-CUT_EXTRUDE3_DEPTH, mode=Mode.SUBTRACT)

    # Sketch2<7> → Boss-Extrude7 (add)
    # profile 1 of 2: a face of its own
    with BuildSketch(Plane.XY.offset(13.25).offset(BOSS_EXTRUDE7_START)):
        with Locations((0, 25)):
            Circle(SKETCH2_7_R)
        with Locations((0, 25)):
            Circle(SKETCH2_7_R_2, mode=Mode.SUBTRACT)
    # profile 2 of 2: a face of its own
    with BuildSketch(Plane.XY.offset(13.25).offset(BOSS_EXTRUDE7_START)):
        with Locations((-140, 25)):
            Circle(SKETCH2_7_R)
        with Locations((-140, 25)):
            Circle(SKETCH2_7_R_2, mode=Mode.SUBTRACT)
    extrude(amount=-BOSS_EXTRUDE7_DEPTH)

    # Sketch2<8> → Cut-Extrude4 (cut)
    # profile 1 of 2: a face of its own
    with BuildSketch(Plane.XY.offset(13.25).offset(CUT_EXTRUDE4_START)):
        with Locations((0, 25)):
            Circle(SKETCH2_8_R)
        with Locations((0, 25)):
            Circle(SKETCH2_8_R_2, mode=Mode.SUBTRACT)
    # profile 2 of 2: a face of its own
    with BuildSketch(Plane.XY.offset(13.25).offset(CUT_EXTRUDE4_START)):
        with Locations((-140, 25)):
            Circle(SKETCH2_8_R)
        with Locations((-140, 25)):
            Circle(SKETCH2_8_R_2, mode=Mode.SUBTRACT)
    extrude(amount=-CUT_EXTRUDE4_DEPTH, mode=Mode.SUBTRACT)

    # Sketch2<9> → Boss-Extrude8 (add)
    # profile 1 of 2: a face of its own
    with BuildSketch(Plane.XY.offset(13.25).offset(BOSS_EXTRUDE8_START)):
        with Locations((0, 25)):
            Circle(SKETCH2_9_R)
        with Locations(Location((0, 25, 0), (0, 0, 180))):
            Circle(SKETCH2_9_R_2, mode=Mode.SUBTRACT)
    # profile 2 of 2: a face of its own
    with BuildSketch(Plane.XY.offset(13.25).offset(BOSS_EXTRUDE8_START)):
        with Locations((-140, 25)):
            Circle(SKETCH2_9_R)
        with Locations(Location((-140, 25, 0), (0, 0, 180))):
            Circle(SKETCH2_9_R_2, mode=Mode.SUBTRACT)
    extrude(amount=-BOSS_EXTRUDE8_DEPTH)

    # Sketch2<10> → Cut-Extrude5 (cut)
    # profile 1 of 4: a face of its own
    with BuildSketch(Plane.XY.offset(13.25).offset(CUT_EXTRUDE5_START)):
        with Locations((-140, 25)):
            Circle(SKETCH2_10_R)
        with Locations((-140, 25)):
            Circle(SKETCH2_10_R_2, mode=Mode.SUBTRACT)
    # profile 2 of 4: a face of its own
    with BuildSketch(Plane.XY.offset(13.25).offset(CUT_EXTRUDE5_START)):
        with Locations((-140, 25)):
            Circle(SKETCH2_10_R_2)
    # profile 3 of 4: a face of its own
    with BuildSketch(Plane.XY.offset(13.25).offset(CUT_EXTRUDE5_START)):
        with Locations((0, 25)):
            Circle(SKETCH2_10_R)
        with Locations((0, 25)):
            Circle(SKETCH2_10_R_2, mode=Mode.SUBTRACT)
    # profile 4 of 4: a face of its own
    with BuildSketch(Plane.XY.offset(13.25).offset(CUT_EXTRUDE5_START)):
        with Locations((0, 25)):
            Circle(SKETCH2_10_R_2)
    extrude(amount=-CUT_EXTRUDE5_DEPTH, mode=Mode.SUBTRACT)

    # Sketch3 → Cut-Extrude6 (cut)
    with BuildSketch(Plane(origin=(-150.05, 0, 0), x_dir=(0, 0, -1), z_dir=(1, 0, 0))):
        with Locations((-50, 25)):
            Rectangle(SKETCH3_W, SKETCH3_H)
    extrude(amount=-CUT_EXTRUDE6_DEPTH, mode=Mode.SUBTRACT)

    # Fillet1
    fillet1_edges = [part.edges().sort_by_distance(p)[0] for p in [
        (10.05, 10, 50),
        (-1.6, 10, 13.25),
        (-13.25, 10, 1.6),
        (-70, 10, -10.05),
        (-143.375, 10, 13.25),
        (-143.375, 10, 86.75),
        (-126.75, 10, 98.4),
        (-70, 10, 110.05),
        (-13.25, 10, 98.4),
        (-1.6, 10, 86.75),
        (-126.75, 10, 1.6),
        (-126.75, 25, 86.75),
        (-126.75, 25, 110.05),
        (-13.25, 25, 110.05),
        (-13.25, 25, 86.75),
        (10.05, 25, 86.75),
        (10.05, 25, 13.25),
        (-13.25, 25, 13.25),
        (-13.25, 25, -10.05),
        (-126.75, 25, -10.05),
        (-126.75, 25, 13.25),
        (20, 20, 114.285714286),
        (-160, 20, 114.285714286),
        (-160, 20, -14.285714286),
        (20, 20, -14.285714286),
    ]]
    fillet(fillet1_edges, radius=FILLET1_R)


solid = part.part
